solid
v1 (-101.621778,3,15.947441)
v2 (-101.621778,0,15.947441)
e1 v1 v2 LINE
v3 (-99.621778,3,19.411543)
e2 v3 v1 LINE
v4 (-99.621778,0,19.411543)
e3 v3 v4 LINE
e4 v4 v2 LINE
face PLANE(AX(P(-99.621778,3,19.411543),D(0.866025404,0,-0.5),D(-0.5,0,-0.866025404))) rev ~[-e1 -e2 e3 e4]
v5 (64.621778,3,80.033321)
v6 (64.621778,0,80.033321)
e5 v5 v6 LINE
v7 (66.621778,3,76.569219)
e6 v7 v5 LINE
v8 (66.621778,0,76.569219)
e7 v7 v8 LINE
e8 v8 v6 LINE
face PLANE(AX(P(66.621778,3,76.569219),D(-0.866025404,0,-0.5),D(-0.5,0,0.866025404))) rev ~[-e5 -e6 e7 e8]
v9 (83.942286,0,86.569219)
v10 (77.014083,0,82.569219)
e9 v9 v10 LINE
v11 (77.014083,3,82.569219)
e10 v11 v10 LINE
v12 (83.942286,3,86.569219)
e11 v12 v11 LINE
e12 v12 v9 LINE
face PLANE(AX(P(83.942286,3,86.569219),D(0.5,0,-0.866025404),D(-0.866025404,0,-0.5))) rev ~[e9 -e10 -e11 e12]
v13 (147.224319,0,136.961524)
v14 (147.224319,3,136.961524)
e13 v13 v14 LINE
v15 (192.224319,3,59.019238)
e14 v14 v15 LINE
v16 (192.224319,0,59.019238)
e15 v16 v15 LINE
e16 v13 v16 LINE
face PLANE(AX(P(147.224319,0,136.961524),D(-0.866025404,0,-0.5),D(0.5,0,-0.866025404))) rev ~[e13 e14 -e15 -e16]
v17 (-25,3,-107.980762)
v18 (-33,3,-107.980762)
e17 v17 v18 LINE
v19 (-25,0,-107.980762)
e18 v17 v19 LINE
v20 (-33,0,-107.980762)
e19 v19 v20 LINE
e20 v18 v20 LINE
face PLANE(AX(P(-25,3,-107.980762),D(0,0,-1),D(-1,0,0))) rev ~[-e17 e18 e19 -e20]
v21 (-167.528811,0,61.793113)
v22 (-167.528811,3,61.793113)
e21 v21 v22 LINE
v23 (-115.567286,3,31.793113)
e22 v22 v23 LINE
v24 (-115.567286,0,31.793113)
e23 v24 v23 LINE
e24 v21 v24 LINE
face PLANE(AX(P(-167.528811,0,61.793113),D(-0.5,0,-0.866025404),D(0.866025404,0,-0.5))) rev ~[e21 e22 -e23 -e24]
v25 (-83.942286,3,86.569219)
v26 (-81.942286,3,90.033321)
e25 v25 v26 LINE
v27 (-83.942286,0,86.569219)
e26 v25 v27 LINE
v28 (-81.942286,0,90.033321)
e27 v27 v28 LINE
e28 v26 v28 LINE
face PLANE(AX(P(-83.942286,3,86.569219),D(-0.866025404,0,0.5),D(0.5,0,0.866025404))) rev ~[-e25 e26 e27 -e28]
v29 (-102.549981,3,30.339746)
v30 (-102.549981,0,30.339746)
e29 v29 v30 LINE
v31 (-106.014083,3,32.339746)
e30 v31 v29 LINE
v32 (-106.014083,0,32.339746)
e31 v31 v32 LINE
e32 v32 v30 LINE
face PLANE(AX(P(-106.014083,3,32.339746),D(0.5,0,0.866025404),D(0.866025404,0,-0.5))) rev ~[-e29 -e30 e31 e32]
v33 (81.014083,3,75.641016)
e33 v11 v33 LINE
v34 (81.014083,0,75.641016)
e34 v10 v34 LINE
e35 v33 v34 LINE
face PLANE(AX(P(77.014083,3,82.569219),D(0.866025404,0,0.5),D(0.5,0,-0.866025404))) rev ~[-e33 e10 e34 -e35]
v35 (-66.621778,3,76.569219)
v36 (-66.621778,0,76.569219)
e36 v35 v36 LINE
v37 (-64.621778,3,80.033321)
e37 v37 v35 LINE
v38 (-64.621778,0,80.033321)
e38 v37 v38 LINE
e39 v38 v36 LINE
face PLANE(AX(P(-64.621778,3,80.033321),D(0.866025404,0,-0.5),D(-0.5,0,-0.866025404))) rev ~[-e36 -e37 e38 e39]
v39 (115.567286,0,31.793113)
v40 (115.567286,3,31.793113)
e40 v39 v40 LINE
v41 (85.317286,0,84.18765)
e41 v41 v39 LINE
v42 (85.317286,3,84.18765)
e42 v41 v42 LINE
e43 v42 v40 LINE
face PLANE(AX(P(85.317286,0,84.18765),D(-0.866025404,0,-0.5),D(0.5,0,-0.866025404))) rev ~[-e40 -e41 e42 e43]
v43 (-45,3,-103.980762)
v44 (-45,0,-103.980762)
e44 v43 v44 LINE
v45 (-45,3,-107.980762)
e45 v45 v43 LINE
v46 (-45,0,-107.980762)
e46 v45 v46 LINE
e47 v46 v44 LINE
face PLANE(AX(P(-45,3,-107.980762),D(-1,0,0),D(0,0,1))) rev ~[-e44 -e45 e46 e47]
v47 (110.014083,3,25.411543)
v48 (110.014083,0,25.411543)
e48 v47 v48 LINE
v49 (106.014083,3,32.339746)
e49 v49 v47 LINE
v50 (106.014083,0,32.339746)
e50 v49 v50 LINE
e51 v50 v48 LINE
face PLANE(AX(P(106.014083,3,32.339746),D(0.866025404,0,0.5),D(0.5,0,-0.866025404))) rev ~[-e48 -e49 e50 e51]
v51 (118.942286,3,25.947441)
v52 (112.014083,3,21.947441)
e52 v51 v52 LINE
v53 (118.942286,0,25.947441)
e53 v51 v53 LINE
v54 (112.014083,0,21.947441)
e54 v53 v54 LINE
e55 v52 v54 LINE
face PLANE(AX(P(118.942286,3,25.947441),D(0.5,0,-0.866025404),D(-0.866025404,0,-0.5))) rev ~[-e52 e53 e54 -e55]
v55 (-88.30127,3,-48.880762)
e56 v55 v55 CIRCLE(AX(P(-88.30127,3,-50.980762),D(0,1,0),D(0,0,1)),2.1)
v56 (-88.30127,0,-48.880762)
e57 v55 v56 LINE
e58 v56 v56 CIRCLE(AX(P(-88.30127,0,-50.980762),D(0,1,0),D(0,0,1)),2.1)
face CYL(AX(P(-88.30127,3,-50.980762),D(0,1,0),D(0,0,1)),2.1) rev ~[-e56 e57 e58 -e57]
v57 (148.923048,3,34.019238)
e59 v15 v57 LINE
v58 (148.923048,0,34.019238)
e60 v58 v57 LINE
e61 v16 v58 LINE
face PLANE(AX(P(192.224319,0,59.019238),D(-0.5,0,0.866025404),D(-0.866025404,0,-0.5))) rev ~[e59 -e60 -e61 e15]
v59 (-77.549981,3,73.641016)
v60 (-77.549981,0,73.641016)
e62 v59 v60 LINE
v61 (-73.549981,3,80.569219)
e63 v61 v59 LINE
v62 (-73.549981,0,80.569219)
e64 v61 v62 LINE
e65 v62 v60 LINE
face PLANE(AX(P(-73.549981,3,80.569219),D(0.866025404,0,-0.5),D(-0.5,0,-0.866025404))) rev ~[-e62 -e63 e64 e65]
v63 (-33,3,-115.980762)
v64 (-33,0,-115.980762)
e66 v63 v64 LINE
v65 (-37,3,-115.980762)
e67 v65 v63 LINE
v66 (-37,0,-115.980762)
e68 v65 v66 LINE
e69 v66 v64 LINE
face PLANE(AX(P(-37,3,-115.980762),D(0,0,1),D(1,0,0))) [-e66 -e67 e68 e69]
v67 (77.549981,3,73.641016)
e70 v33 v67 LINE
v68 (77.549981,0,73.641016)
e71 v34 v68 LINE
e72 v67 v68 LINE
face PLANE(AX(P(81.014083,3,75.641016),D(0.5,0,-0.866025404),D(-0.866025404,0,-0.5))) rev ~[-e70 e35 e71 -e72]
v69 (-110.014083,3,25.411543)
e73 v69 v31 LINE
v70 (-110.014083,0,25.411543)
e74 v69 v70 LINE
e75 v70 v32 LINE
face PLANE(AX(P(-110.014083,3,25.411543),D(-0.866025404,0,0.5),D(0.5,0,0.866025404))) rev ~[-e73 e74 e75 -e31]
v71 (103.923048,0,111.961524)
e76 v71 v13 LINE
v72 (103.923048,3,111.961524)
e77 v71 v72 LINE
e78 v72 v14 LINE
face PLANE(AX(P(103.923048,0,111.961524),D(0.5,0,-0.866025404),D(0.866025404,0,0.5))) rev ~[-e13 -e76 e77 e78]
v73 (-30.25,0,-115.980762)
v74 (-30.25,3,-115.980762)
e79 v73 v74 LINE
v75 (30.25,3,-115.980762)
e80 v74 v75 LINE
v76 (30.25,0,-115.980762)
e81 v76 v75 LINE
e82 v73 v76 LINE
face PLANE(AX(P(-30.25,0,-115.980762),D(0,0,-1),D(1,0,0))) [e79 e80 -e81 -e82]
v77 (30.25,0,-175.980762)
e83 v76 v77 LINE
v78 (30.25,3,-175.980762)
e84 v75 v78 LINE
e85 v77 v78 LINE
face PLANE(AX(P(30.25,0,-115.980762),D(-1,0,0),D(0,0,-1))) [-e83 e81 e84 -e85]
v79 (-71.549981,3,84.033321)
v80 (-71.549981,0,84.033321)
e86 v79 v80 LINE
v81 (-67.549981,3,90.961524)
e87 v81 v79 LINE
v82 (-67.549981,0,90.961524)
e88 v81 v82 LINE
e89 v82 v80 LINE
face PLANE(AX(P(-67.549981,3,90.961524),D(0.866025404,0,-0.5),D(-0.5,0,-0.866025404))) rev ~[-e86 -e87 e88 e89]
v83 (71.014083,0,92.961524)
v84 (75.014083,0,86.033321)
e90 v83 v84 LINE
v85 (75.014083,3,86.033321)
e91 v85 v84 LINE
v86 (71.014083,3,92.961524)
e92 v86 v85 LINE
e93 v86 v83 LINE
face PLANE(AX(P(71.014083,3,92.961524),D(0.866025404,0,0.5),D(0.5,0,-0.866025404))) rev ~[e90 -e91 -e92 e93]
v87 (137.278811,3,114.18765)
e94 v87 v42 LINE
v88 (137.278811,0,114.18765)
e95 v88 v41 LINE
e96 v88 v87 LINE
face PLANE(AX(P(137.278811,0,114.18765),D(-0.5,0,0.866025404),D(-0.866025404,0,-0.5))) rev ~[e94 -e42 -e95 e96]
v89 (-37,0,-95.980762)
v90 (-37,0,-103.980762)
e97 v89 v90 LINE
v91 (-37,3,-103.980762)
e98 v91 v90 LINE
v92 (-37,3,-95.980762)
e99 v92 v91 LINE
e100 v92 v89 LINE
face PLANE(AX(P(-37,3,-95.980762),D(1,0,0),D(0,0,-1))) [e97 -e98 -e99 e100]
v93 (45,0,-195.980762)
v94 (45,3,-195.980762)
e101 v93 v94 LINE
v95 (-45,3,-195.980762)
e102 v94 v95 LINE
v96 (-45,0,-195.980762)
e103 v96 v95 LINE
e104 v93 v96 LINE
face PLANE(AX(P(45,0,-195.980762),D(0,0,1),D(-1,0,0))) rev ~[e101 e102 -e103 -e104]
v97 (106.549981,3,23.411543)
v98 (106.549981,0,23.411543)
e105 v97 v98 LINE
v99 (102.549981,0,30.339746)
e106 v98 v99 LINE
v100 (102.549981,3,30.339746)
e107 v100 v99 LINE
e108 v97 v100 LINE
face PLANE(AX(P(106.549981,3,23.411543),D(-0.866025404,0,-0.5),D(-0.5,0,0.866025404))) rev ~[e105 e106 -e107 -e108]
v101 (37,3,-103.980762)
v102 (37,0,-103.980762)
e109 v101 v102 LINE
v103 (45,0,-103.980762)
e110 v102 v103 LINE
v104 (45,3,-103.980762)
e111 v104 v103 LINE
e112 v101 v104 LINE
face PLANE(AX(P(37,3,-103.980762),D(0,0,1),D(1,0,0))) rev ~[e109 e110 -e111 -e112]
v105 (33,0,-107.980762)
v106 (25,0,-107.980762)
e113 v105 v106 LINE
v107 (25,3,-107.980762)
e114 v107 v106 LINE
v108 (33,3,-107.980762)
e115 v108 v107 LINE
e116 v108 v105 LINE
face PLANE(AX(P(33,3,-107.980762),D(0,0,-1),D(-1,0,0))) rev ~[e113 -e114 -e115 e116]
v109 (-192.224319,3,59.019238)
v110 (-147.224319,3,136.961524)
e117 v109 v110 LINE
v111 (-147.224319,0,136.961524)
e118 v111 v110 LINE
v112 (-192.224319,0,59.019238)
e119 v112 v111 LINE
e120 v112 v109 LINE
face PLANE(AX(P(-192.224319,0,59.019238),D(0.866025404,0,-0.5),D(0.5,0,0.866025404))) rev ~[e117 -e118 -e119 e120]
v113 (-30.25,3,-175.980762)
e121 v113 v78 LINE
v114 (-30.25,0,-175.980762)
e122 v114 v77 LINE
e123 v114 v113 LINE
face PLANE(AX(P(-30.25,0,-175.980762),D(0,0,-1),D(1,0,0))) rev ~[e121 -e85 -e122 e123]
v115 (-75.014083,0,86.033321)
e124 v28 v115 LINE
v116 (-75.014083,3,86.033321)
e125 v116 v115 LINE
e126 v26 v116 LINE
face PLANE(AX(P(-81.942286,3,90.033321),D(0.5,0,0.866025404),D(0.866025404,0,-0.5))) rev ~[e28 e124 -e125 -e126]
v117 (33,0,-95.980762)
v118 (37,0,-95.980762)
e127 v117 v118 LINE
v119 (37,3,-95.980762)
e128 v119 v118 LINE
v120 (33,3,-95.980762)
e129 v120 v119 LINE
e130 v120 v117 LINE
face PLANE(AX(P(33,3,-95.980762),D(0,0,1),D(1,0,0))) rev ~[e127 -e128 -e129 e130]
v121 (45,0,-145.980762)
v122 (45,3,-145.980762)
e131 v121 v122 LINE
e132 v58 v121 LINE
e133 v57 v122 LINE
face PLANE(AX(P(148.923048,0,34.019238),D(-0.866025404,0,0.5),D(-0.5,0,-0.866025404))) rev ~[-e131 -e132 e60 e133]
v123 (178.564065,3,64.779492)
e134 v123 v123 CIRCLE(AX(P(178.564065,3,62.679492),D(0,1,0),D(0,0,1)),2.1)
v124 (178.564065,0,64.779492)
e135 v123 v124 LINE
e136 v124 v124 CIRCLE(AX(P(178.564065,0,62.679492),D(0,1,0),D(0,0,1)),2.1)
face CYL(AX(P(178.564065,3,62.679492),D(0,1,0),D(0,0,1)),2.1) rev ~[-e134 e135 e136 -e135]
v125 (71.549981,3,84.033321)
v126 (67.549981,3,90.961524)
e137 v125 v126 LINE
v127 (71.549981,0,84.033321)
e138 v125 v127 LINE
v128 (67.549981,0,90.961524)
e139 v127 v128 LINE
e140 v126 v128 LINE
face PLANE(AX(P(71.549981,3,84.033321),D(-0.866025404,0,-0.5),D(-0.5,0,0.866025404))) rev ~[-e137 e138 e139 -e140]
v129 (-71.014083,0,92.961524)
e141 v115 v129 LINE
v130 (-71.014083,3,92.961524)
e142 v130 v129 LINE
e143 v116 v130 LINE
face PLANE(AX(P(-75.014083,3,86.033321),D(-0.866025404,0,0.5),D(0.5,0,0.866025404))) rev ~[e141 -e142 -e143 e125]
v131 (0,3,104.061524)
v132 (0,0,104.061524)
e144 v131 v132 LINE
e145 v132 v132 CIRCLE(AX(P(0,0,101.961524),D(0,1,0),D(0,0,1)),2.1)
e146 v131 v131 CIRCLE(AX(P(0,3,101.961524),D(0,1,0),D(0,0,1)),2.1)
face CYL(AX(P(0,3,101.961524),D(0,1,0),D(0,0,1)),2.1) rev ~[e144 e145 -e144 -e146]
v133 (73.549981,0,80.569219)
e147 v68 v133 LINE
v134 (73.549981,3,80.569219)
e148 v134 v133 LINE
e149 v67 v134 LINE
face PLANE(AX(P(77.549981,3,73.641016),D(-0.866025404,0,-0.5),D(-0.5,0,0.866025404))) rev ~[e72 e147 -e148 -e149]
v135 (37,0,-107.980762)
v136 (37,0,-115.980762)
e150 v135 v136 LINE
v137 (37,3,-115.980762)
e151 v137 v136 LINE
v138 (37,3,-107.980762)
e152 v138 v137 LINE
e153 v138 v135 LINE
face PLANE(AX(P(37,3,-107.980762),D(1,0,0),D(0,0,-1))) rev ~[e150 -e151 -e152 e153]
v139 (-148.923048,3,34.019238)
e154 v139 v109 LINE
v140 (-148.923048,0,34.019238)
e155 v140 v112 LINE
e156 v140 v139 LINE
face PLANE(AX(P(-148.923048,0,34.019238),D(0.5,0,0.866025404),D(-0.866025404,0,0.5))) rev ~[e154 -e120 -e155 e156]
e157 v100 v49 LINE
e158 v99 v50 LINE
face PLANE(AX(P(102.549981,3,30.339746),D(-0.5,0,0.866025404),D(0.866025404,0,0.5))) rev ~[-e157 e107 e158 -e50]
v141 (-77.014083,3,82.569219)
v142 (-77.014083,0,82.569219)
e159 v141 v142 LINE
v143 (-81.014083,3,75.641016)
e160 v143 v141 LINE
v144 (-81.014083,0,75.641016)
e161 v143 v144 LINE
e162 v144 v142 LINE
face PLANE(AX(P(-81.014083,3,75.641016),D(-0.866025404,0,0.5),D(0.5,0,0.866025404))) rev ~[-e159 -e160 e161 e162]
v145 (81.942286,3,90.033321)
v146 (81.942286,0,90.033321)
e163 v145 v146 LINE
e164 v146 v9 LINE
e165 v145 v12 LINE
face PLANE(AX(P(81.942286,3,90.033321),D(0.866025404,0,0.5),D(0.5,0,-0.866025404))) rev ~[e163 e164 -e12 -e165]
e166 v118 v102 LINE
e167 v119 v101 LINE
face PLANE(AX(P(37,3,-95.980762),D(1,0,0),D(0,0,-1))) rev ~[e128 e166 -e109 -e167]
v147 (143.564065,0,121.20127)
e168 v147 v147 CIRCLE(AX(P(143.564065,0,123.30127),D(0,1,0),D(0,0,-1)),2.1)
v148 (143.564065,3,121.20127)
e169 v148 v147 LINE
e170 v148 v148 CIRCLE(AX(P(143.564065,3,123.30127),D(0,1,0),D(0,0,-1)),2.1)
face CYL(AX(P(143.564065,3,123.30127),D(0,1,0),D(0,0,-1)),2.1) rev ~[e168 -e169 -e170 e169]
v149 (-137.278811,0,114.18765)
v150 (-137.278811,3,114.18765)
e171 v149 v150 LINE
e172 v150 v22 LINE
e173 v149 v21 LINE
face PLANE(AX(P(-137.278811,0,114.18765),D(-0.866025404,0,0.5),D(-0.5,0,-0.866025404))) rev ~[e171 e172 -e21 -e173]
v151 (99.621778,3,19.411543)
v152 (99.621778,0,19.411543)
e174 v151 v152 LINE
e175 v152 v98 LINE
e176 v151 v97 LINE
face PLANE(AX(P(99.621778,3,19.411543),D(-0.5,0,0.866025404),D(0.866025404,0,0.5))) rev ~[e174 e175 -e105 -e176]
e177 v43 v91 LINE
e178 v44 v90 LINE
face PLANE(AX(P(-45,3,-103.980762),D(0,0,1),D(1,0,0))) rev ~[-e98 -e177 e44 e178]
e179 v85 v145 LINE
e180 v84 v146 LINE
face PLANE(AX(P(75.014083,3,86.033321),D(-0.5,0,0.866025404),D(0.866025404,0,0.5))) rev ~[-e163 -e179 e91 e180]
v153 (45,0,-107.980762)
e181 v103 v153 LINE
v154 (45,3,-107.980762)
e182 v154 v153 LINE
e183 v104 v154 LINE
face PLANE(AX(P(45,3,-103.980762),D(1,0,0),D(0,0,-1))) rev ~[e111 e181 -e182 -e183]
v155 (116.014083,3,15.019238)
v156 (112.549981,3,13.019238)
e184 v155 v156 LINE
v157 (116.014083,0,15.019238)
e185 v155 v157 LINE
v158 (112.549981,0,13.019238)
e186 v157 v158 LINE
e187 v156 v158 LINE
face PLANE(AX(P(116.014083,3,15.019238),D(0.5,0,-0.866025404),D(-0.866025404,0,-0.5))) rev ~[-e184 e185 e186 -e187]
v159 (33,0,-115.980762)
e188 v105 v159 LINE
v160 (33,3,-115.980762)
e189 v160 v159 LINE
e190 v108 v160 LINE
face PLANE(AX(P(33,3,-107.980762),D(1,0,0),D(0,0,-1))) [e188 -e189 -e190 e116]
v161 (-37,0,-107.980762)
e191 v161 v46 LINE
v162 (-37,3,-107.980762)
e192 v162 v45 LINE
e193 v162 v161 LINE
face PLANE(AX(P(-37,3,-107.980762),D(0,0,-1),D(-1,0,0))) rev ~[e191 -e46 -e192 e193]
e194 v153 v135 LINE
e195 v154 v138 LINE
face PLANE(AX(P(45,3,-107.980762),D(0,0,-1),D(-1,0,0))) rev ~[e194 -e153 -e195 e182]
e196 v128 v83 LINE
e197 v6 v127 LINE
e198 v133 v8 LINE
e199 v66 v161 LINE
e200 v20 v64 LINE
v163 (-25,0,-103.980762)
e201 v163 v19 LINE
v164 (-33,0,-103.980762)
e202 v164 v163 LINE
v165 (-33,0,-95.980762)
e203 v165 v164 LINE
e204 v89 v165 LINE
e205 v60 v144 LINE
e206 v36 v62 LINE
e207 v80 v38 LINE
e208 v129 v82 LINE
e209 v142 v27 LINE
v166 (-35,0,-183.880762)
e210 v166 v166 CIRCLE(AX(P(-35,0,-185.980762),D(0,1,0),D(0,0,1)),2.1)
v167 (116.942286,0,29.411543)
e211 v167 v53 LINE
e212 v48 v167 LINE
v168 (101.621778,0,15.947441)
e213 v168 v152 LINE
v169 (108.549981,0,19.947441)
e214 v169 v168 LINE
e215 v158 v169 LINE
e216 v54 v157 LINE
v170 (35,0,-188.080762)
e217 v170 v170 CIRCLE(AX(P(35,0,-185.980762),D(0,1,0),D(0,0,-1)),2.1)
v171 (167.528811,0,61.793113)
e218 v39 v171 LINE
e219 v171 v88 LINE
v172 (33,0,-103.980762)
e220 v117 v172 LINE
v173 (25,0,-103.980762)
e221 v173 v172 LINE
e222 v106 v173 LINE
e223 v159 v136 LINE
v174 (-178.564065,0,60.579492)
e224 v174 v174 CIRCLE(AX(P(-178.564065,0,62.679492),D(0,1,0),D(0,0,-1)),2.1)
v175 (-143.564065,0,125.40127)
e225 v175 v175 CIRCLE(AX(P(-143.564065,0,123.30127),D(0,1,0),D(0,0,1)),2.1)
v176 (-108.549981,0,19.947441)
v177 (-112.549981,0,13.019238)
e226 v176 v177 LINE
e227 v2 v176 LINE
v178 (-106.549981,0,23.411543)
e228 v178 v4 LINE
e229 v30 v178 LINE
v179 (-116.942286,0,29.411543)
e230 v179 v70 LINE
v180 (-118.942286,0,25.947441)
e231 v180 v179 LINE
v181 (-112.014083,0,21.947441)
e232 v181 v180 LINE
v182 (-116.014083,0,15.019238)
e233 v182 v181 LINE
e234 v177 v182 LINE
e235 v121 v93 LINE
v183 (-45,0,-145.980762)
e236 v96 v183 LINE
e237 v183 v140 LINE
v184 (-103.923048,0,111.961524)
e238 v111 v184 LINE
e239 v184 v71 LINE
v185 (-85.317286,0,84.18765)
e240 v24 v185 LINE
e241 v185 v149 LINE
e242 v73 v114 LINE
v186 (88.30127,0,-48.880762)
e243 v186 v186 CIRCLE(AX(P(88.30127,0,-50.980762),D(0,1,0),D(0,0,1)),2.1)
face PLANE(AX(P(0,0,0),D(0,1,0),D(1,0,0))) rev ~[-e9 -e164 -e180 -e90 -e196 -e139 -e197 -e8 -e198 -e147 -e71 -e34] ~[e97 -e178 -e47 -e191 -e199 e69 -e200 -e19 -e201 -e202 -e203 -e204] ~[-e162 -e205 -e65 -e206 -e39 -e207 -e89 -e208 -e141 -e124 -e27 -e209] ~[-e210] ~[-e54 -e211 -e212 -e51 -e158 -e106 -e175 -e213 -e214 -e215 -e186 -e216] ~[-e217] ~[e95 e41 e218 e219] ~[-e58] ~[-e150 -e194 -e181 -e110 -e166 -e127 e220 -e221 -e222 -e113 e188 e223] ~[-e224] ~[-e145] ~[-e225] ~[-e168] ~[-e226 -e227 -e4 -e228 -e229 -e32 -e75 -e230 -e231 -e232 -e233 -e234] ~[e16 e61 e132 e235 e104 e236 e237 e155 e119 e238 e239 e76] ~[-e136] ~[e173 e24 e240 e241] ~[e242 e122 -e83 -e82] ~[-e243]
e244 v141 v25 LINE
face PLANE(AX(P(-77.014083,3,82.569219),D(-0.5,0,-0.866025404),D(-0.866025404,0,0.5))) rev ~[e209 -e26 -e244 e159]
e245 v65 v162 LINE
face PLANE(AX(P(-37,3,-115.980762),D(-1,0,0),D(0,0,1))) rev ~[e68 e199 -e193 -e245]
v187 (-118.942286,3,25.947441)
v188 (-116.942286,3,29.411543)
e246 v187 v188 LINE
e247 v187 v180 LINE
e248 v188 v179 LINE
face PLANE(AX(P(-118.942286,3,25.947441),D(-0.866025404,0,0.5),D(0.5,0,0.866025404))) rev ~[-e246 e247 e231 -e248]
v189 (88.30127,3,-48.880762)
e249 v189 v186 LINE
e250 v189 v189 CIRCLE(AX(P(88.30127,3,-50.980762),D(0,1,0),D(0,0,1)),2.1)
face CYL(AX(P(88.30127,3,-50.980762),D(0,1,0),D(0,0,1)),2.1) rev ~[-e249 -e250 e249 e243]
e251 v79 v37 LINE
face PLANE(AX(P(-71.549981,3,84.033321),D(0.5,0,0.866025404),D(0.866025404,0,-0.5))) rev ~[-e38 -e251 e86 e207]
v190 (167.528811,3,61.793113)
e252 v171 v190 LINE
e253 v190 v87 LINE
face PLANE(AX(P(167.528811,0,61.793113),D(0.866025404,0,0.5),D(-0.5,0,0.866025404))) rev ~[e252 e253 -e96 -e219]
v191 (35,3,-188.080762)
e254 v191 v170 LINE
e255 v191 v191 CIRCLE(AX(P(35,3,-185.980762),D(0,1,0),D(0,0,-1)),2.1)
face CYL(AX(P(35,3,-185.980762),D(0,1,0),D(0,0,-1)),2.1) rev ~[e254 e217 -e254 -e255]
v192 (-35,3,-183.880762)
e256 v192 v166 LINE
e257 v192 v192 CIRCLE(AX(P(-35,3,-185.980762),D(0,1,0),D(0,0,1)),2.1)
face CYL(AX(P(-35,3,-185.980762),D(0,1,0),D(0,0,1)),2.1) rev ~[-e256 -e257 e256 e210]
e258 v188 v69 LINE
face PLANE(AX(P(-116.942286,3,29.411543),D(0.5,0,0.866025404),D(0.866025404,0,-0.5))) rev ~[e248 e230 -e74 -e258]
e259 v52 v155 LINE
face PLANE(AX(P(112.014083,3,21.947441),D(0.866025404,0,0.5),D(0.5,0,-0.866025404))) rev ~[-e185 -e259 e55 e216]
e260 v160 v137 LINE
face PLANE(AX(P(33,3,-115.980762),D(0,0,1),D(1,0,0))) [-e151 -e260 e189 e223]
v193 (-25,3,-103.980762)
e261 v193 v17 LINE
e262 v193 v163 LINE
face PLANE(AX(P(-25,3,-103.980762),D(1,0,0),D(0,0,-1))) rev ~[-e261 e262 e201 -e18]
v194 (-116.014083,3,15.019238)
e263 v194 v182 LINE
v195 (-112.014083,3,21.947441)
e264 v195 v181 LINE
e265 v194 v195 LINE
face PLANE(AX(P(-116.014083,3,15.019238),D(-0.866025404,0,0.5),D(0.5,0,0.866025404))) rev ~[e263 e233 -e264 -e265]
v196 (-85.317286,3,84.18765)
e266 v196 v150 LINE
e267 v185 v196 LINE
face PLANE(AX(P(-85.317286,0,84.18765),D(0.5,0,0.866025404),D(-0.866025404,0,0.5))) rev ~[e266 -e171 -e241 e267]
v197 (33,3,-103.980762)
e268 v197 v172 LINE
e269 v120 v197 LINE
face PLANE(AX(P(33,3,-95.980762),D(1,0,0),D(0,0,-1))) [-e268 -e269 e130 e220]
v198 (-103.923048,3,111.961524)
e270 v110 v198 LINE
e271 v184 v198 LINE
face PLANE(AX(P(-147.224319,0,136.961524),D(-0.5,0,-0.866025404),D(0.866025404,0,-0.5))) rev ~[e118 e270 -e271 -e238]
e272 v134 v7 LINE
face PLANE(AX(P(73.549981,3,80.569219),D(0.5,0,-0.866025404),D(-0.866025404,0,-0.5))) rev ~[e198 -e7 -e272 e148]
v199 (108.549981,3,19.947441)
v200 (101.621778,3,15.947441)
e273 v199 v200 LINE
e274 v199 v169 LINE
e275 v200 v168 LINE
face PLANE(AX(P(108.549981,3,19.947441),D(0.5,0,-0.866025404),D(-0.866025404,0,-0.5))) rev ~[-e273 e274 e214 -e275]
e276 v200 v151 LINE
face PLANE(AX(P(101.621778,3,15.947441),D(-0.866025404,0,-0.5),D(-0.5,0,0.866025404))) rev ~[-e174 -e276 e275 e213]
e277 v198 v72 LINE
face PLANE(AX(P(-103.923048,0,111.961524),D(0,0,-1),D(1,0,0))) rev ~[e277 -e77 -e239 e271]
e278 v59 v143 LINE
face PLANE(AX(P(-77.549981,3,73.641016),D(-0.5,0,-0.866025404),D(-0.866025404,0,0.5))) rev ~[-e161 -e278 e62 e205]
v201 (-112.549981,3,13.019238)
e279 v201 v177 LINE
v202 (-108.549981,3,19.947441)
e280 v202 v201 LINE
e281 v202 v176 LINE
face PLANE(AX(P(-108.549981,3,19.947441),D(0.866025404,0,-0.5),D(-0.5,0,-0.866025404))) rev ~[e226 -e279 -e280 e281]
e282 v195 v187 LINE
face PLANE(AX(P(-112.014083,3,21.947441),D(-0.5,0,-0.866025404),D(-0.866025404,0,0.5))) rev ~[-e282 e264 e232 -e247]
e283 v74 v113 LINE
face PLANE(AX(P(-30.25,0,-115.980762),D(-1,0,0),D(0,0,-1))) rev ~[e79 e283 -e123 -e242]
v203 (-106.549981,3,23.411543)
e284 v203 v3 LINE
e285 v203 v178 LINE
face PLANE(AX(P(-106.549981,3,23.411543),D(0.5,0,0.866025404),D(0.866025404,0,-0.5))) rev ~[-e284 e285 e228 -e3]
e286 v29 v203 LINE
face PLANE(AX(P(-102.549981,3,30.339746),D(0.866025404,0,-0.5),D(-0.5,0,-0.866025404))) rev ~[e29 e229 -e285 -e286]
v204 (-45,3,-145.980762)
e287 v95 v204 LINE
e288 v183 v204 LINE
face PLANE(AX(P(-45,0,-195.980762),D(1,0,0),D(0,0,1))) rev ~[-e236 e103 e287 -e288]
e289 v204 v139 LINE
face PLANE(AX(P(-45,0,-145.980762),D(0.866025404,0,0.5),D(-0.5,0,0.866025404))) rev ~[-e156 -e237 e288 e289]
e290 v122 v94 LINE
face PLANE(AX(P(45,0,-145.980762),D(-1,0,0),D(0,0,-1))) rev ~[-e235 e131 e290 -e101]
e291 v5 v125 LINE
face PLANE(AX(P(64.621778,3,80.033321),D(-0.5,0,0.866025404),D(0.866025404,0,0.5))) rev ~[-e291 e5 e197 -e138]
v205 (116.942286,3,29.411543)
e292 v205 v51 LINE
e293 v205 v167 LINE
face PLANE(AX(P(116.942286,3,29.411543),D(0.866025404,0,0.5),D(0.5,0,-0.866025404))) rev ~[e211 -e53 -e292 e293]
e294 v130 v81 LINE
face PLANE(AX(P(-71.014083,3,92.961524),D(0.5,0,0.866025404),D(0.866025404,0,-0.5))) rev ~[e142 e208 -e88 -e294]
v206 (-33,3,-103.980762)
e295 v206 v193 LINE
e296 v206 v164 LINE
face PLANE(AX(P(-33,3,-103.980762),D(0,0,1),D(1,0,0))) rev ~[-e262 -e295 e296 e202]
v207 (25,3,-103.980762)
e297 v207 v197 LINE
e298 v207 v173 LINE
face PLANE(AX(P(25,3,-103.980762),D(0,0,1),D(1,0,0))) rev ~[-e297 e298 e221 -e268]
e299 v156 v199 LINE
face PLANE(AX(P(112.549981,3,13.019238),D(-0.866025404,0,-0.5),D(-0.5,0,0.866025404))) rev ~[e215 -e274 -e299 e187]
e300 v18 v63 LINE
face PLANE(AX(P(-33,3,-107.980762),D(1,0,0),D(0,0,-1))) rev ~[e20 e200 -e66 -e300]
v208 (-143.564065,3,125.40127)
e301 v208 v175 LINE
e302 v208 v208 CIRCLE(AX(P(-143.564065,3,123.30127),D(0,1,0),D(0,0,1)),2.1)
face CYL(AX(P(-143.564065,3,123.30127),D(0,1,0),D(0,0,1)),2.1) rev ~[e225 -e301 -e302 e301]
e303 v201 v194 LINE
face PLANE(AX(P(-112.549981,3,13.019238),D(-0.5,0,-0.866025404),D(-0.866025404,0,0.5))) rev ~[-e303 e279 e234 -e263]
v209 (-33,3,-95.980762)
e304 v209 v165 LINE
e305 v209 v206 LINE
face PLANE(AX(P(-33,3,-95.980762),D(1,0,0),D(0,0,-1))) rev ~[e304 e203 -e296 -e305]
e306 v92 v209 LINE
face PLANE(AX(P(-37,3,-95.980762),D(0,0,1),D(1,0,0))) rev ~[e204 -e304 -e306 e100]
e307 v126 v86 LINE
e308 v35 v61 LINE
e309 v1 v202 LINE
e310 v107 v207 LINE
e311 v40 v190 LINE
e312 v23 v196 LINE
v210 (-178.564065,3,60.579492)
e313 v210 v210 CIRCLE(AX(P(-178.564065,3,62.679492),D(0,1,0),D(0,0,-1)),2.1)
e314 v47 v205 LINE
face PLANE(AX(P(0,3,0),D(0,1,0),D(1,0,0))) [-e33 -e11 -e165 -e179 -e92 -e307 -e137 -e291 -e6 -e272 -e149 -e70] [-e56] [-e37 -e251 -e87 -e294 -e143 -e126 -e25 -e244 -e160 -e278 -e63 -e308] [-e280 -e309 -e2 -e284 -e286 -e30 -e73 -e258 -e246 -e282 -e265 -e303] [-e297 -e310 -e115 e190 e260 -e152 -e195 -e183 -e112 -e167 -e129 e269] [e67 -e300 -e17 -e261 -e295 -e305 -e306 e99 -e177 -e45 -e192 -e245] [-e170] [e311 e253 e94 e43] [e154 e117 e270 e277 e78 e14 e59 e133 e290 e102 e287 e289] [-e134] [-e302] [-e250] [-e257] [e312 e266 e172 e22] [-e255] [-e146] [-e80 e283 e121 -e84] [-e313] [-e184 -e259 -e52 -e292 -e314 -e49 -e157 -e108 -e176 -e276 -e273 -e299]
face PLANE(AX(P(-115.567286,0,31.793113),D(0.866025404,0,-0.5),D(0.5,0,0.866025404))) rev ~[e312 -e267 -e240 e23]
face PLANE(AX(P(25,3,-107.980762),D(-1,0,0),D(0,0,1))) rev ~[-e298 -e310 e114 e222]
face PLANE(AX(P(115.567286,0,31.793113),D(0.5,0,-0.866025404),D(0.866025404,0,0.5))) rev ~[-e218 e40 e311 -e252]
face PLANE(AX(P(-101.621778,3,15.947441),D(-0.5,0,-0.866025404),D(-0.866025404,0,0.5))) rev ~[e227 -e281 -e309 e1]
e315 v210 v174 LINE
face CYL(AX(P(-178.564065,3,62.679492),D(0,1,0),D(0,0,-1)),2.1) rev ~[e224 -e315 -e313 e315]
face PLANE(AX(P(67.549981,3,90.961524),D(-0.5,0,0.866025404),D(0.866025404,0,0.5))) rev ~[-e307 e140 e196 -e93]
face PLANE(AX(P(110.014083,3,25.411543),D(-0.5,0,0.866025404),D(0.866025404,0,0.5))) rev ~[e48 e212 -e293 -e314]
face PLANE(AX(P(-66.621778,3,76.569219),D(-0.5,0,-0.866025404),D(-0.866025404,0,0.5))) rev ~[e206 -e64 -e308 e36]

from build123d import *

# Parameters (mm, degrees)
ESQUISSE1_W             = 60.5
ESQUISSE1_H             = 60
BOSS_EXTRU_1_DEPTH      = 3
ESQUISSE2_R             = 2.1
ENL_V_MAT_EXTRU_1_DEPTH = 275.531688146
ESQUISSE6_W             = 4
ESQUISSE6_H             = 8
ENL_V_MAT_EXTRU_2_DEPTH = 275.531688146


with BuildPart() as part:
    # Esquisse1 → Boss.-Extru.1 (new body)
    with BuildSketch(Plane(origin=(0, 0, 0), x_dir=(1, 0, 0), z_dir=(0, 1, 0))):
        Polygon((-147.224318643, -136.961524227), (-103.923048454, -111.961524227), (103.923048454, -111.961524227), (147.224318643, -136.961524227), (192.224318643, -59.019237886), (148.923048454, -34.019237886), (45, 145.980762114), (45, 195.980762114), (-45, 195.980762114), (-45, 145.980762114), (-148.923048454, -34.019237886), (-192.224318643, -59.019237886), align=None)
        Polygon((-137.278810568, -114.187649521), (-167.528810568, -61.793112592), (-115.567286341, -31.793112592), (-85.317286341, -84.187649521), align=None, mode=Mode.SUBTRACT)
        Polygon((167.528810568, -61.793112592), (137.278810568, -114.187649521), (85.317286341, -84.187649521), (115.567286341, -31.793112592), align=None, mode=Mode.SUBTRACT)
        with Locations((0, 145.980762114)):
            Rectangle(ESQUISSE1_W, ESQUISSE1_H, mode=Mode.SUBTRACT)
    extrude(amount=BOSS_EXTRU_1_DEPTH)

    # Esquisse2 → Enlèv. mat.-Extru.1 (cut, through all)
    with BuildSketch(Plane(origin=(0, 3, 0), x_dir=(1, 0, 0), z_dir=(0, 1, 0))):
        with Locations(Location((-35, 185.980762114, 0), (0, 0, 270))):
            Circle(ESQUISSE2_R)
        with Locations(Location((35, 185.980762114, 0), (0, 0, 90))):
            Circle(ESQUISSE2_R)
        with Locations(Location((-143.564064605, -123.301270189, 0), (0, 0, 270))):
            Circle(ESQUISSE2_R)
        with Locations(Location((-178.564064605, -62.679491924, 0), (0, 0, 90))):
            Circle(ESQUISSE2_R)
        with Locations(Location((178.564064606, -62.679491924, 0), (0, 0, 270))):
            Circle(ESQUISSE2_R)
        with Locations(Location((143.564064606, -123.301270189, 0), (0, 0, 90))):
            Circle(ESQUISSE2_R)
        with Locations(Location((88.301270189, 50.980762114, 0), (0, 0, 270))):
            Circle(ESQUISSE2_R)
        with Locations(Location((0, -101.961524227, 0), (0, 0, 270))):
            Circle(ESQUISSE2_R)
        with Locations(Location((-88.301270189, 50.980762114, 0), (0, 0, 270))):
            Circle(ESQUISSE2_R)
    extrude(amount=-ENL_V_MAT_EXTRU_1_DEPTH, mode=Mode.SUBTRACT)

    # Esquisse6 → Enlèv. mat.-Extru.2 (cut, through all)
    with BuildSketch(Plane(origin=(0, 3, 0), x_dir=(1, 0, 0), z_dir=(0, 1, 0))):
        with Locations((-35, 111.980762114)):
            Rectangle(ESQUISSE6_W, ESQUISSE6_H)
        Polygon((-37, 105.980762114), (-37, 103.980762114), (-33, 103.980762114), (-33, 105.980762114), (-33, 107.980762114), (-37, 107.980762114), align=None)
        Polygon((-45, 107.980762114), (-45, 103.980762114), (-37, 103.980762114), (-37, 105.980762114), (-37, 107.980762114), align=None)
        Polygon((-33, 105.980762114), (-33, 103.980762114), (-25, 103.980762114), (-25, 107.980762114), (-33, 107.980762114), align=None)
        with Locations((-35, 99.980762114)):
            Rectangle(ESQUISSE6_W, ESQUISSE6_H)
        Polygon((33, 105.980762114), (33, 107.980762114), (25, 107.980762114), (25, 103.980762114), (33, 103.980762114), align=None)
        with Locations((35, 111.980762114)):
            Rectangle(ESQUISSE6_W, ESQUISSE6_H)
        Polygon((37, 105.980762114), (37, 107.980762114), (33, 107.980762114), (33, 105.980762114), (33, 103.980762114), (37, 103.980762114), align=None)
        Polygon((45, 103.980762114), (45, 107.980762114), (37, 107.980762114), (37, 105.980762114), (37, 103.980762114), align=None)
        with Locations((35, 99.980762114)):
            Rectangle(ESQUISSE6_W, ESQUISSE6_H)
        Polygon((116.01408311, -15.019237886), (112.549981495, -13.019237886), (108.549981495, -19.947441117), (110.282032303, -20.947441117), (112.01408311, -21.947441117), align=None)
        Polygon((110.282032303, -20.947441117), (108.549981495, -19.947441117), (106.549981495, -23.411542732), (108.282032303, -24.411542732), (110.01408311, -25.411542732), (112.01408311, -21.947441117), align=None)
        Polygon((108.549981495, -19.947441117), (101.621778265, -15.947441117), (99.621778265, -19.411542732), (106.549981495, -23.411542732), align=None)
        Polygon((108.282032303, -24.411542732), (106.549981495, -23.411542732), (102.549981495, -30.339745962), (106.01408311, -32.339745962), (110.01408311, -25.411542732), align=None)
        Polygon((118.942286341, -25.947441117), (112.01408311, -21.947441117), (110.01408311, -25.411542732), (116.942286341, -29.411542732), align=None)
        Polygon((64.621778265, -80.033320997), (71.549981495, -84.033320997), (73.549981495, -80.569219382), (66.621778265, -76.569219382), align=None)
        Polygon((75.282032303, -81.569219382), (77.01408311, -82.569219382), (81.01408311, -75.641016151), (77.549981495, -73.641016151), (73.549981495, -80.569219382), align=None)
        Polygon((73.282032303, -85.033320997), (75.01408311, -86.033320997), (77.01408311, -82.569219382), (75.282032303, -81.569219382), (73.549981495, -80.569219382), (71.549981495, -84.033320997), align=None)
        Polygon((77.01408311, -82.569219382), (75.01408311, -86.033320997), (81.942286341, -90.033320997), (83.942286341, -86.569219382), align=None)
        Polygon((67.549981495, -90.961524227), (71.01408311, -92.961524227), (75.01408311, -86.033320997), (73.282032303, -85.033320997), (71.549981495, -84.033320997), align=None)
        Polygon((-75.282032303, -81.569219382), (-73.549981495, -80.569219382), (-77.549981495, -73.641016151), (-81.01408311, -75.641016151), (-77.01408311, -82.569219382), align=None)
        Polygon((-81.942286341, -90.033320997), (-75.01408311, -86.033320997), (-77.01408311, -82.569219382), (-83.942286341, -86.569219382), align=None)
        Polygon((-71.01408311, -92.961524227), (-67.549981495, -90.961524227), (-71.549981495, -84.033320997), (-73.282032303, -85.033320997), (-75.01408311, -86.033320997), align=None)
        Polygon((-71.549981495, -84.033320997), (-64.621778265, -80.033320997), (-66.621778265, -76.569219382), (-73.549981495, -80.569219382), align=None)
        Polygon((-110.01408311, -25.411542732), (-112.01408311, -21.947441117), (-118.942286341, -25.947441117), (-116.942286341, -29.411542732), align=None)
        Polygon((-112.549981495, -13.019237886), (-116.01408311, -15.019237886), (-112.01408311, -21.947441117), (-110.282032303, -20.947441117), (-108.549981495, -19.947441117), align=None)
        Polygon((-110.282032303, -20.947441117), (-112.01408311, -21.947441117), (-110.01408311, -25.411542732), (-108.282032303, -24.411542732), (-106.549981495, -23.411542732), (-108.549981495, -19.947441117), align=None)
        Polygon((-101.621778265, -15.947441117), (-108.549981495, -19.947441117), (-106.549981495, -23.411542732), (-99.621778265, -19.411542732), align=None)
        Polygon((-108.282032303, -24.411542732), (-110.01408311, -25.411542732), (-106.01408311, -32.339745962), (-102.549981495, -30.339745962), (-106.549981495, -23.411542732), align=None)
        Polygon((-73.282032303, -85.033320997), (-71.549981495, -84.033320997), (-73.549981495, -80.569219382), (-75.282032303, -81.569219382), (-77.01408311, -82.569219382), (-75.01408311, -86.033320997), align=None)
    extrude(amount=-ENL_V_MAT_EXTRU_2_DEPTH, mode=Mode.SUBTRACT)


solid = part.part
